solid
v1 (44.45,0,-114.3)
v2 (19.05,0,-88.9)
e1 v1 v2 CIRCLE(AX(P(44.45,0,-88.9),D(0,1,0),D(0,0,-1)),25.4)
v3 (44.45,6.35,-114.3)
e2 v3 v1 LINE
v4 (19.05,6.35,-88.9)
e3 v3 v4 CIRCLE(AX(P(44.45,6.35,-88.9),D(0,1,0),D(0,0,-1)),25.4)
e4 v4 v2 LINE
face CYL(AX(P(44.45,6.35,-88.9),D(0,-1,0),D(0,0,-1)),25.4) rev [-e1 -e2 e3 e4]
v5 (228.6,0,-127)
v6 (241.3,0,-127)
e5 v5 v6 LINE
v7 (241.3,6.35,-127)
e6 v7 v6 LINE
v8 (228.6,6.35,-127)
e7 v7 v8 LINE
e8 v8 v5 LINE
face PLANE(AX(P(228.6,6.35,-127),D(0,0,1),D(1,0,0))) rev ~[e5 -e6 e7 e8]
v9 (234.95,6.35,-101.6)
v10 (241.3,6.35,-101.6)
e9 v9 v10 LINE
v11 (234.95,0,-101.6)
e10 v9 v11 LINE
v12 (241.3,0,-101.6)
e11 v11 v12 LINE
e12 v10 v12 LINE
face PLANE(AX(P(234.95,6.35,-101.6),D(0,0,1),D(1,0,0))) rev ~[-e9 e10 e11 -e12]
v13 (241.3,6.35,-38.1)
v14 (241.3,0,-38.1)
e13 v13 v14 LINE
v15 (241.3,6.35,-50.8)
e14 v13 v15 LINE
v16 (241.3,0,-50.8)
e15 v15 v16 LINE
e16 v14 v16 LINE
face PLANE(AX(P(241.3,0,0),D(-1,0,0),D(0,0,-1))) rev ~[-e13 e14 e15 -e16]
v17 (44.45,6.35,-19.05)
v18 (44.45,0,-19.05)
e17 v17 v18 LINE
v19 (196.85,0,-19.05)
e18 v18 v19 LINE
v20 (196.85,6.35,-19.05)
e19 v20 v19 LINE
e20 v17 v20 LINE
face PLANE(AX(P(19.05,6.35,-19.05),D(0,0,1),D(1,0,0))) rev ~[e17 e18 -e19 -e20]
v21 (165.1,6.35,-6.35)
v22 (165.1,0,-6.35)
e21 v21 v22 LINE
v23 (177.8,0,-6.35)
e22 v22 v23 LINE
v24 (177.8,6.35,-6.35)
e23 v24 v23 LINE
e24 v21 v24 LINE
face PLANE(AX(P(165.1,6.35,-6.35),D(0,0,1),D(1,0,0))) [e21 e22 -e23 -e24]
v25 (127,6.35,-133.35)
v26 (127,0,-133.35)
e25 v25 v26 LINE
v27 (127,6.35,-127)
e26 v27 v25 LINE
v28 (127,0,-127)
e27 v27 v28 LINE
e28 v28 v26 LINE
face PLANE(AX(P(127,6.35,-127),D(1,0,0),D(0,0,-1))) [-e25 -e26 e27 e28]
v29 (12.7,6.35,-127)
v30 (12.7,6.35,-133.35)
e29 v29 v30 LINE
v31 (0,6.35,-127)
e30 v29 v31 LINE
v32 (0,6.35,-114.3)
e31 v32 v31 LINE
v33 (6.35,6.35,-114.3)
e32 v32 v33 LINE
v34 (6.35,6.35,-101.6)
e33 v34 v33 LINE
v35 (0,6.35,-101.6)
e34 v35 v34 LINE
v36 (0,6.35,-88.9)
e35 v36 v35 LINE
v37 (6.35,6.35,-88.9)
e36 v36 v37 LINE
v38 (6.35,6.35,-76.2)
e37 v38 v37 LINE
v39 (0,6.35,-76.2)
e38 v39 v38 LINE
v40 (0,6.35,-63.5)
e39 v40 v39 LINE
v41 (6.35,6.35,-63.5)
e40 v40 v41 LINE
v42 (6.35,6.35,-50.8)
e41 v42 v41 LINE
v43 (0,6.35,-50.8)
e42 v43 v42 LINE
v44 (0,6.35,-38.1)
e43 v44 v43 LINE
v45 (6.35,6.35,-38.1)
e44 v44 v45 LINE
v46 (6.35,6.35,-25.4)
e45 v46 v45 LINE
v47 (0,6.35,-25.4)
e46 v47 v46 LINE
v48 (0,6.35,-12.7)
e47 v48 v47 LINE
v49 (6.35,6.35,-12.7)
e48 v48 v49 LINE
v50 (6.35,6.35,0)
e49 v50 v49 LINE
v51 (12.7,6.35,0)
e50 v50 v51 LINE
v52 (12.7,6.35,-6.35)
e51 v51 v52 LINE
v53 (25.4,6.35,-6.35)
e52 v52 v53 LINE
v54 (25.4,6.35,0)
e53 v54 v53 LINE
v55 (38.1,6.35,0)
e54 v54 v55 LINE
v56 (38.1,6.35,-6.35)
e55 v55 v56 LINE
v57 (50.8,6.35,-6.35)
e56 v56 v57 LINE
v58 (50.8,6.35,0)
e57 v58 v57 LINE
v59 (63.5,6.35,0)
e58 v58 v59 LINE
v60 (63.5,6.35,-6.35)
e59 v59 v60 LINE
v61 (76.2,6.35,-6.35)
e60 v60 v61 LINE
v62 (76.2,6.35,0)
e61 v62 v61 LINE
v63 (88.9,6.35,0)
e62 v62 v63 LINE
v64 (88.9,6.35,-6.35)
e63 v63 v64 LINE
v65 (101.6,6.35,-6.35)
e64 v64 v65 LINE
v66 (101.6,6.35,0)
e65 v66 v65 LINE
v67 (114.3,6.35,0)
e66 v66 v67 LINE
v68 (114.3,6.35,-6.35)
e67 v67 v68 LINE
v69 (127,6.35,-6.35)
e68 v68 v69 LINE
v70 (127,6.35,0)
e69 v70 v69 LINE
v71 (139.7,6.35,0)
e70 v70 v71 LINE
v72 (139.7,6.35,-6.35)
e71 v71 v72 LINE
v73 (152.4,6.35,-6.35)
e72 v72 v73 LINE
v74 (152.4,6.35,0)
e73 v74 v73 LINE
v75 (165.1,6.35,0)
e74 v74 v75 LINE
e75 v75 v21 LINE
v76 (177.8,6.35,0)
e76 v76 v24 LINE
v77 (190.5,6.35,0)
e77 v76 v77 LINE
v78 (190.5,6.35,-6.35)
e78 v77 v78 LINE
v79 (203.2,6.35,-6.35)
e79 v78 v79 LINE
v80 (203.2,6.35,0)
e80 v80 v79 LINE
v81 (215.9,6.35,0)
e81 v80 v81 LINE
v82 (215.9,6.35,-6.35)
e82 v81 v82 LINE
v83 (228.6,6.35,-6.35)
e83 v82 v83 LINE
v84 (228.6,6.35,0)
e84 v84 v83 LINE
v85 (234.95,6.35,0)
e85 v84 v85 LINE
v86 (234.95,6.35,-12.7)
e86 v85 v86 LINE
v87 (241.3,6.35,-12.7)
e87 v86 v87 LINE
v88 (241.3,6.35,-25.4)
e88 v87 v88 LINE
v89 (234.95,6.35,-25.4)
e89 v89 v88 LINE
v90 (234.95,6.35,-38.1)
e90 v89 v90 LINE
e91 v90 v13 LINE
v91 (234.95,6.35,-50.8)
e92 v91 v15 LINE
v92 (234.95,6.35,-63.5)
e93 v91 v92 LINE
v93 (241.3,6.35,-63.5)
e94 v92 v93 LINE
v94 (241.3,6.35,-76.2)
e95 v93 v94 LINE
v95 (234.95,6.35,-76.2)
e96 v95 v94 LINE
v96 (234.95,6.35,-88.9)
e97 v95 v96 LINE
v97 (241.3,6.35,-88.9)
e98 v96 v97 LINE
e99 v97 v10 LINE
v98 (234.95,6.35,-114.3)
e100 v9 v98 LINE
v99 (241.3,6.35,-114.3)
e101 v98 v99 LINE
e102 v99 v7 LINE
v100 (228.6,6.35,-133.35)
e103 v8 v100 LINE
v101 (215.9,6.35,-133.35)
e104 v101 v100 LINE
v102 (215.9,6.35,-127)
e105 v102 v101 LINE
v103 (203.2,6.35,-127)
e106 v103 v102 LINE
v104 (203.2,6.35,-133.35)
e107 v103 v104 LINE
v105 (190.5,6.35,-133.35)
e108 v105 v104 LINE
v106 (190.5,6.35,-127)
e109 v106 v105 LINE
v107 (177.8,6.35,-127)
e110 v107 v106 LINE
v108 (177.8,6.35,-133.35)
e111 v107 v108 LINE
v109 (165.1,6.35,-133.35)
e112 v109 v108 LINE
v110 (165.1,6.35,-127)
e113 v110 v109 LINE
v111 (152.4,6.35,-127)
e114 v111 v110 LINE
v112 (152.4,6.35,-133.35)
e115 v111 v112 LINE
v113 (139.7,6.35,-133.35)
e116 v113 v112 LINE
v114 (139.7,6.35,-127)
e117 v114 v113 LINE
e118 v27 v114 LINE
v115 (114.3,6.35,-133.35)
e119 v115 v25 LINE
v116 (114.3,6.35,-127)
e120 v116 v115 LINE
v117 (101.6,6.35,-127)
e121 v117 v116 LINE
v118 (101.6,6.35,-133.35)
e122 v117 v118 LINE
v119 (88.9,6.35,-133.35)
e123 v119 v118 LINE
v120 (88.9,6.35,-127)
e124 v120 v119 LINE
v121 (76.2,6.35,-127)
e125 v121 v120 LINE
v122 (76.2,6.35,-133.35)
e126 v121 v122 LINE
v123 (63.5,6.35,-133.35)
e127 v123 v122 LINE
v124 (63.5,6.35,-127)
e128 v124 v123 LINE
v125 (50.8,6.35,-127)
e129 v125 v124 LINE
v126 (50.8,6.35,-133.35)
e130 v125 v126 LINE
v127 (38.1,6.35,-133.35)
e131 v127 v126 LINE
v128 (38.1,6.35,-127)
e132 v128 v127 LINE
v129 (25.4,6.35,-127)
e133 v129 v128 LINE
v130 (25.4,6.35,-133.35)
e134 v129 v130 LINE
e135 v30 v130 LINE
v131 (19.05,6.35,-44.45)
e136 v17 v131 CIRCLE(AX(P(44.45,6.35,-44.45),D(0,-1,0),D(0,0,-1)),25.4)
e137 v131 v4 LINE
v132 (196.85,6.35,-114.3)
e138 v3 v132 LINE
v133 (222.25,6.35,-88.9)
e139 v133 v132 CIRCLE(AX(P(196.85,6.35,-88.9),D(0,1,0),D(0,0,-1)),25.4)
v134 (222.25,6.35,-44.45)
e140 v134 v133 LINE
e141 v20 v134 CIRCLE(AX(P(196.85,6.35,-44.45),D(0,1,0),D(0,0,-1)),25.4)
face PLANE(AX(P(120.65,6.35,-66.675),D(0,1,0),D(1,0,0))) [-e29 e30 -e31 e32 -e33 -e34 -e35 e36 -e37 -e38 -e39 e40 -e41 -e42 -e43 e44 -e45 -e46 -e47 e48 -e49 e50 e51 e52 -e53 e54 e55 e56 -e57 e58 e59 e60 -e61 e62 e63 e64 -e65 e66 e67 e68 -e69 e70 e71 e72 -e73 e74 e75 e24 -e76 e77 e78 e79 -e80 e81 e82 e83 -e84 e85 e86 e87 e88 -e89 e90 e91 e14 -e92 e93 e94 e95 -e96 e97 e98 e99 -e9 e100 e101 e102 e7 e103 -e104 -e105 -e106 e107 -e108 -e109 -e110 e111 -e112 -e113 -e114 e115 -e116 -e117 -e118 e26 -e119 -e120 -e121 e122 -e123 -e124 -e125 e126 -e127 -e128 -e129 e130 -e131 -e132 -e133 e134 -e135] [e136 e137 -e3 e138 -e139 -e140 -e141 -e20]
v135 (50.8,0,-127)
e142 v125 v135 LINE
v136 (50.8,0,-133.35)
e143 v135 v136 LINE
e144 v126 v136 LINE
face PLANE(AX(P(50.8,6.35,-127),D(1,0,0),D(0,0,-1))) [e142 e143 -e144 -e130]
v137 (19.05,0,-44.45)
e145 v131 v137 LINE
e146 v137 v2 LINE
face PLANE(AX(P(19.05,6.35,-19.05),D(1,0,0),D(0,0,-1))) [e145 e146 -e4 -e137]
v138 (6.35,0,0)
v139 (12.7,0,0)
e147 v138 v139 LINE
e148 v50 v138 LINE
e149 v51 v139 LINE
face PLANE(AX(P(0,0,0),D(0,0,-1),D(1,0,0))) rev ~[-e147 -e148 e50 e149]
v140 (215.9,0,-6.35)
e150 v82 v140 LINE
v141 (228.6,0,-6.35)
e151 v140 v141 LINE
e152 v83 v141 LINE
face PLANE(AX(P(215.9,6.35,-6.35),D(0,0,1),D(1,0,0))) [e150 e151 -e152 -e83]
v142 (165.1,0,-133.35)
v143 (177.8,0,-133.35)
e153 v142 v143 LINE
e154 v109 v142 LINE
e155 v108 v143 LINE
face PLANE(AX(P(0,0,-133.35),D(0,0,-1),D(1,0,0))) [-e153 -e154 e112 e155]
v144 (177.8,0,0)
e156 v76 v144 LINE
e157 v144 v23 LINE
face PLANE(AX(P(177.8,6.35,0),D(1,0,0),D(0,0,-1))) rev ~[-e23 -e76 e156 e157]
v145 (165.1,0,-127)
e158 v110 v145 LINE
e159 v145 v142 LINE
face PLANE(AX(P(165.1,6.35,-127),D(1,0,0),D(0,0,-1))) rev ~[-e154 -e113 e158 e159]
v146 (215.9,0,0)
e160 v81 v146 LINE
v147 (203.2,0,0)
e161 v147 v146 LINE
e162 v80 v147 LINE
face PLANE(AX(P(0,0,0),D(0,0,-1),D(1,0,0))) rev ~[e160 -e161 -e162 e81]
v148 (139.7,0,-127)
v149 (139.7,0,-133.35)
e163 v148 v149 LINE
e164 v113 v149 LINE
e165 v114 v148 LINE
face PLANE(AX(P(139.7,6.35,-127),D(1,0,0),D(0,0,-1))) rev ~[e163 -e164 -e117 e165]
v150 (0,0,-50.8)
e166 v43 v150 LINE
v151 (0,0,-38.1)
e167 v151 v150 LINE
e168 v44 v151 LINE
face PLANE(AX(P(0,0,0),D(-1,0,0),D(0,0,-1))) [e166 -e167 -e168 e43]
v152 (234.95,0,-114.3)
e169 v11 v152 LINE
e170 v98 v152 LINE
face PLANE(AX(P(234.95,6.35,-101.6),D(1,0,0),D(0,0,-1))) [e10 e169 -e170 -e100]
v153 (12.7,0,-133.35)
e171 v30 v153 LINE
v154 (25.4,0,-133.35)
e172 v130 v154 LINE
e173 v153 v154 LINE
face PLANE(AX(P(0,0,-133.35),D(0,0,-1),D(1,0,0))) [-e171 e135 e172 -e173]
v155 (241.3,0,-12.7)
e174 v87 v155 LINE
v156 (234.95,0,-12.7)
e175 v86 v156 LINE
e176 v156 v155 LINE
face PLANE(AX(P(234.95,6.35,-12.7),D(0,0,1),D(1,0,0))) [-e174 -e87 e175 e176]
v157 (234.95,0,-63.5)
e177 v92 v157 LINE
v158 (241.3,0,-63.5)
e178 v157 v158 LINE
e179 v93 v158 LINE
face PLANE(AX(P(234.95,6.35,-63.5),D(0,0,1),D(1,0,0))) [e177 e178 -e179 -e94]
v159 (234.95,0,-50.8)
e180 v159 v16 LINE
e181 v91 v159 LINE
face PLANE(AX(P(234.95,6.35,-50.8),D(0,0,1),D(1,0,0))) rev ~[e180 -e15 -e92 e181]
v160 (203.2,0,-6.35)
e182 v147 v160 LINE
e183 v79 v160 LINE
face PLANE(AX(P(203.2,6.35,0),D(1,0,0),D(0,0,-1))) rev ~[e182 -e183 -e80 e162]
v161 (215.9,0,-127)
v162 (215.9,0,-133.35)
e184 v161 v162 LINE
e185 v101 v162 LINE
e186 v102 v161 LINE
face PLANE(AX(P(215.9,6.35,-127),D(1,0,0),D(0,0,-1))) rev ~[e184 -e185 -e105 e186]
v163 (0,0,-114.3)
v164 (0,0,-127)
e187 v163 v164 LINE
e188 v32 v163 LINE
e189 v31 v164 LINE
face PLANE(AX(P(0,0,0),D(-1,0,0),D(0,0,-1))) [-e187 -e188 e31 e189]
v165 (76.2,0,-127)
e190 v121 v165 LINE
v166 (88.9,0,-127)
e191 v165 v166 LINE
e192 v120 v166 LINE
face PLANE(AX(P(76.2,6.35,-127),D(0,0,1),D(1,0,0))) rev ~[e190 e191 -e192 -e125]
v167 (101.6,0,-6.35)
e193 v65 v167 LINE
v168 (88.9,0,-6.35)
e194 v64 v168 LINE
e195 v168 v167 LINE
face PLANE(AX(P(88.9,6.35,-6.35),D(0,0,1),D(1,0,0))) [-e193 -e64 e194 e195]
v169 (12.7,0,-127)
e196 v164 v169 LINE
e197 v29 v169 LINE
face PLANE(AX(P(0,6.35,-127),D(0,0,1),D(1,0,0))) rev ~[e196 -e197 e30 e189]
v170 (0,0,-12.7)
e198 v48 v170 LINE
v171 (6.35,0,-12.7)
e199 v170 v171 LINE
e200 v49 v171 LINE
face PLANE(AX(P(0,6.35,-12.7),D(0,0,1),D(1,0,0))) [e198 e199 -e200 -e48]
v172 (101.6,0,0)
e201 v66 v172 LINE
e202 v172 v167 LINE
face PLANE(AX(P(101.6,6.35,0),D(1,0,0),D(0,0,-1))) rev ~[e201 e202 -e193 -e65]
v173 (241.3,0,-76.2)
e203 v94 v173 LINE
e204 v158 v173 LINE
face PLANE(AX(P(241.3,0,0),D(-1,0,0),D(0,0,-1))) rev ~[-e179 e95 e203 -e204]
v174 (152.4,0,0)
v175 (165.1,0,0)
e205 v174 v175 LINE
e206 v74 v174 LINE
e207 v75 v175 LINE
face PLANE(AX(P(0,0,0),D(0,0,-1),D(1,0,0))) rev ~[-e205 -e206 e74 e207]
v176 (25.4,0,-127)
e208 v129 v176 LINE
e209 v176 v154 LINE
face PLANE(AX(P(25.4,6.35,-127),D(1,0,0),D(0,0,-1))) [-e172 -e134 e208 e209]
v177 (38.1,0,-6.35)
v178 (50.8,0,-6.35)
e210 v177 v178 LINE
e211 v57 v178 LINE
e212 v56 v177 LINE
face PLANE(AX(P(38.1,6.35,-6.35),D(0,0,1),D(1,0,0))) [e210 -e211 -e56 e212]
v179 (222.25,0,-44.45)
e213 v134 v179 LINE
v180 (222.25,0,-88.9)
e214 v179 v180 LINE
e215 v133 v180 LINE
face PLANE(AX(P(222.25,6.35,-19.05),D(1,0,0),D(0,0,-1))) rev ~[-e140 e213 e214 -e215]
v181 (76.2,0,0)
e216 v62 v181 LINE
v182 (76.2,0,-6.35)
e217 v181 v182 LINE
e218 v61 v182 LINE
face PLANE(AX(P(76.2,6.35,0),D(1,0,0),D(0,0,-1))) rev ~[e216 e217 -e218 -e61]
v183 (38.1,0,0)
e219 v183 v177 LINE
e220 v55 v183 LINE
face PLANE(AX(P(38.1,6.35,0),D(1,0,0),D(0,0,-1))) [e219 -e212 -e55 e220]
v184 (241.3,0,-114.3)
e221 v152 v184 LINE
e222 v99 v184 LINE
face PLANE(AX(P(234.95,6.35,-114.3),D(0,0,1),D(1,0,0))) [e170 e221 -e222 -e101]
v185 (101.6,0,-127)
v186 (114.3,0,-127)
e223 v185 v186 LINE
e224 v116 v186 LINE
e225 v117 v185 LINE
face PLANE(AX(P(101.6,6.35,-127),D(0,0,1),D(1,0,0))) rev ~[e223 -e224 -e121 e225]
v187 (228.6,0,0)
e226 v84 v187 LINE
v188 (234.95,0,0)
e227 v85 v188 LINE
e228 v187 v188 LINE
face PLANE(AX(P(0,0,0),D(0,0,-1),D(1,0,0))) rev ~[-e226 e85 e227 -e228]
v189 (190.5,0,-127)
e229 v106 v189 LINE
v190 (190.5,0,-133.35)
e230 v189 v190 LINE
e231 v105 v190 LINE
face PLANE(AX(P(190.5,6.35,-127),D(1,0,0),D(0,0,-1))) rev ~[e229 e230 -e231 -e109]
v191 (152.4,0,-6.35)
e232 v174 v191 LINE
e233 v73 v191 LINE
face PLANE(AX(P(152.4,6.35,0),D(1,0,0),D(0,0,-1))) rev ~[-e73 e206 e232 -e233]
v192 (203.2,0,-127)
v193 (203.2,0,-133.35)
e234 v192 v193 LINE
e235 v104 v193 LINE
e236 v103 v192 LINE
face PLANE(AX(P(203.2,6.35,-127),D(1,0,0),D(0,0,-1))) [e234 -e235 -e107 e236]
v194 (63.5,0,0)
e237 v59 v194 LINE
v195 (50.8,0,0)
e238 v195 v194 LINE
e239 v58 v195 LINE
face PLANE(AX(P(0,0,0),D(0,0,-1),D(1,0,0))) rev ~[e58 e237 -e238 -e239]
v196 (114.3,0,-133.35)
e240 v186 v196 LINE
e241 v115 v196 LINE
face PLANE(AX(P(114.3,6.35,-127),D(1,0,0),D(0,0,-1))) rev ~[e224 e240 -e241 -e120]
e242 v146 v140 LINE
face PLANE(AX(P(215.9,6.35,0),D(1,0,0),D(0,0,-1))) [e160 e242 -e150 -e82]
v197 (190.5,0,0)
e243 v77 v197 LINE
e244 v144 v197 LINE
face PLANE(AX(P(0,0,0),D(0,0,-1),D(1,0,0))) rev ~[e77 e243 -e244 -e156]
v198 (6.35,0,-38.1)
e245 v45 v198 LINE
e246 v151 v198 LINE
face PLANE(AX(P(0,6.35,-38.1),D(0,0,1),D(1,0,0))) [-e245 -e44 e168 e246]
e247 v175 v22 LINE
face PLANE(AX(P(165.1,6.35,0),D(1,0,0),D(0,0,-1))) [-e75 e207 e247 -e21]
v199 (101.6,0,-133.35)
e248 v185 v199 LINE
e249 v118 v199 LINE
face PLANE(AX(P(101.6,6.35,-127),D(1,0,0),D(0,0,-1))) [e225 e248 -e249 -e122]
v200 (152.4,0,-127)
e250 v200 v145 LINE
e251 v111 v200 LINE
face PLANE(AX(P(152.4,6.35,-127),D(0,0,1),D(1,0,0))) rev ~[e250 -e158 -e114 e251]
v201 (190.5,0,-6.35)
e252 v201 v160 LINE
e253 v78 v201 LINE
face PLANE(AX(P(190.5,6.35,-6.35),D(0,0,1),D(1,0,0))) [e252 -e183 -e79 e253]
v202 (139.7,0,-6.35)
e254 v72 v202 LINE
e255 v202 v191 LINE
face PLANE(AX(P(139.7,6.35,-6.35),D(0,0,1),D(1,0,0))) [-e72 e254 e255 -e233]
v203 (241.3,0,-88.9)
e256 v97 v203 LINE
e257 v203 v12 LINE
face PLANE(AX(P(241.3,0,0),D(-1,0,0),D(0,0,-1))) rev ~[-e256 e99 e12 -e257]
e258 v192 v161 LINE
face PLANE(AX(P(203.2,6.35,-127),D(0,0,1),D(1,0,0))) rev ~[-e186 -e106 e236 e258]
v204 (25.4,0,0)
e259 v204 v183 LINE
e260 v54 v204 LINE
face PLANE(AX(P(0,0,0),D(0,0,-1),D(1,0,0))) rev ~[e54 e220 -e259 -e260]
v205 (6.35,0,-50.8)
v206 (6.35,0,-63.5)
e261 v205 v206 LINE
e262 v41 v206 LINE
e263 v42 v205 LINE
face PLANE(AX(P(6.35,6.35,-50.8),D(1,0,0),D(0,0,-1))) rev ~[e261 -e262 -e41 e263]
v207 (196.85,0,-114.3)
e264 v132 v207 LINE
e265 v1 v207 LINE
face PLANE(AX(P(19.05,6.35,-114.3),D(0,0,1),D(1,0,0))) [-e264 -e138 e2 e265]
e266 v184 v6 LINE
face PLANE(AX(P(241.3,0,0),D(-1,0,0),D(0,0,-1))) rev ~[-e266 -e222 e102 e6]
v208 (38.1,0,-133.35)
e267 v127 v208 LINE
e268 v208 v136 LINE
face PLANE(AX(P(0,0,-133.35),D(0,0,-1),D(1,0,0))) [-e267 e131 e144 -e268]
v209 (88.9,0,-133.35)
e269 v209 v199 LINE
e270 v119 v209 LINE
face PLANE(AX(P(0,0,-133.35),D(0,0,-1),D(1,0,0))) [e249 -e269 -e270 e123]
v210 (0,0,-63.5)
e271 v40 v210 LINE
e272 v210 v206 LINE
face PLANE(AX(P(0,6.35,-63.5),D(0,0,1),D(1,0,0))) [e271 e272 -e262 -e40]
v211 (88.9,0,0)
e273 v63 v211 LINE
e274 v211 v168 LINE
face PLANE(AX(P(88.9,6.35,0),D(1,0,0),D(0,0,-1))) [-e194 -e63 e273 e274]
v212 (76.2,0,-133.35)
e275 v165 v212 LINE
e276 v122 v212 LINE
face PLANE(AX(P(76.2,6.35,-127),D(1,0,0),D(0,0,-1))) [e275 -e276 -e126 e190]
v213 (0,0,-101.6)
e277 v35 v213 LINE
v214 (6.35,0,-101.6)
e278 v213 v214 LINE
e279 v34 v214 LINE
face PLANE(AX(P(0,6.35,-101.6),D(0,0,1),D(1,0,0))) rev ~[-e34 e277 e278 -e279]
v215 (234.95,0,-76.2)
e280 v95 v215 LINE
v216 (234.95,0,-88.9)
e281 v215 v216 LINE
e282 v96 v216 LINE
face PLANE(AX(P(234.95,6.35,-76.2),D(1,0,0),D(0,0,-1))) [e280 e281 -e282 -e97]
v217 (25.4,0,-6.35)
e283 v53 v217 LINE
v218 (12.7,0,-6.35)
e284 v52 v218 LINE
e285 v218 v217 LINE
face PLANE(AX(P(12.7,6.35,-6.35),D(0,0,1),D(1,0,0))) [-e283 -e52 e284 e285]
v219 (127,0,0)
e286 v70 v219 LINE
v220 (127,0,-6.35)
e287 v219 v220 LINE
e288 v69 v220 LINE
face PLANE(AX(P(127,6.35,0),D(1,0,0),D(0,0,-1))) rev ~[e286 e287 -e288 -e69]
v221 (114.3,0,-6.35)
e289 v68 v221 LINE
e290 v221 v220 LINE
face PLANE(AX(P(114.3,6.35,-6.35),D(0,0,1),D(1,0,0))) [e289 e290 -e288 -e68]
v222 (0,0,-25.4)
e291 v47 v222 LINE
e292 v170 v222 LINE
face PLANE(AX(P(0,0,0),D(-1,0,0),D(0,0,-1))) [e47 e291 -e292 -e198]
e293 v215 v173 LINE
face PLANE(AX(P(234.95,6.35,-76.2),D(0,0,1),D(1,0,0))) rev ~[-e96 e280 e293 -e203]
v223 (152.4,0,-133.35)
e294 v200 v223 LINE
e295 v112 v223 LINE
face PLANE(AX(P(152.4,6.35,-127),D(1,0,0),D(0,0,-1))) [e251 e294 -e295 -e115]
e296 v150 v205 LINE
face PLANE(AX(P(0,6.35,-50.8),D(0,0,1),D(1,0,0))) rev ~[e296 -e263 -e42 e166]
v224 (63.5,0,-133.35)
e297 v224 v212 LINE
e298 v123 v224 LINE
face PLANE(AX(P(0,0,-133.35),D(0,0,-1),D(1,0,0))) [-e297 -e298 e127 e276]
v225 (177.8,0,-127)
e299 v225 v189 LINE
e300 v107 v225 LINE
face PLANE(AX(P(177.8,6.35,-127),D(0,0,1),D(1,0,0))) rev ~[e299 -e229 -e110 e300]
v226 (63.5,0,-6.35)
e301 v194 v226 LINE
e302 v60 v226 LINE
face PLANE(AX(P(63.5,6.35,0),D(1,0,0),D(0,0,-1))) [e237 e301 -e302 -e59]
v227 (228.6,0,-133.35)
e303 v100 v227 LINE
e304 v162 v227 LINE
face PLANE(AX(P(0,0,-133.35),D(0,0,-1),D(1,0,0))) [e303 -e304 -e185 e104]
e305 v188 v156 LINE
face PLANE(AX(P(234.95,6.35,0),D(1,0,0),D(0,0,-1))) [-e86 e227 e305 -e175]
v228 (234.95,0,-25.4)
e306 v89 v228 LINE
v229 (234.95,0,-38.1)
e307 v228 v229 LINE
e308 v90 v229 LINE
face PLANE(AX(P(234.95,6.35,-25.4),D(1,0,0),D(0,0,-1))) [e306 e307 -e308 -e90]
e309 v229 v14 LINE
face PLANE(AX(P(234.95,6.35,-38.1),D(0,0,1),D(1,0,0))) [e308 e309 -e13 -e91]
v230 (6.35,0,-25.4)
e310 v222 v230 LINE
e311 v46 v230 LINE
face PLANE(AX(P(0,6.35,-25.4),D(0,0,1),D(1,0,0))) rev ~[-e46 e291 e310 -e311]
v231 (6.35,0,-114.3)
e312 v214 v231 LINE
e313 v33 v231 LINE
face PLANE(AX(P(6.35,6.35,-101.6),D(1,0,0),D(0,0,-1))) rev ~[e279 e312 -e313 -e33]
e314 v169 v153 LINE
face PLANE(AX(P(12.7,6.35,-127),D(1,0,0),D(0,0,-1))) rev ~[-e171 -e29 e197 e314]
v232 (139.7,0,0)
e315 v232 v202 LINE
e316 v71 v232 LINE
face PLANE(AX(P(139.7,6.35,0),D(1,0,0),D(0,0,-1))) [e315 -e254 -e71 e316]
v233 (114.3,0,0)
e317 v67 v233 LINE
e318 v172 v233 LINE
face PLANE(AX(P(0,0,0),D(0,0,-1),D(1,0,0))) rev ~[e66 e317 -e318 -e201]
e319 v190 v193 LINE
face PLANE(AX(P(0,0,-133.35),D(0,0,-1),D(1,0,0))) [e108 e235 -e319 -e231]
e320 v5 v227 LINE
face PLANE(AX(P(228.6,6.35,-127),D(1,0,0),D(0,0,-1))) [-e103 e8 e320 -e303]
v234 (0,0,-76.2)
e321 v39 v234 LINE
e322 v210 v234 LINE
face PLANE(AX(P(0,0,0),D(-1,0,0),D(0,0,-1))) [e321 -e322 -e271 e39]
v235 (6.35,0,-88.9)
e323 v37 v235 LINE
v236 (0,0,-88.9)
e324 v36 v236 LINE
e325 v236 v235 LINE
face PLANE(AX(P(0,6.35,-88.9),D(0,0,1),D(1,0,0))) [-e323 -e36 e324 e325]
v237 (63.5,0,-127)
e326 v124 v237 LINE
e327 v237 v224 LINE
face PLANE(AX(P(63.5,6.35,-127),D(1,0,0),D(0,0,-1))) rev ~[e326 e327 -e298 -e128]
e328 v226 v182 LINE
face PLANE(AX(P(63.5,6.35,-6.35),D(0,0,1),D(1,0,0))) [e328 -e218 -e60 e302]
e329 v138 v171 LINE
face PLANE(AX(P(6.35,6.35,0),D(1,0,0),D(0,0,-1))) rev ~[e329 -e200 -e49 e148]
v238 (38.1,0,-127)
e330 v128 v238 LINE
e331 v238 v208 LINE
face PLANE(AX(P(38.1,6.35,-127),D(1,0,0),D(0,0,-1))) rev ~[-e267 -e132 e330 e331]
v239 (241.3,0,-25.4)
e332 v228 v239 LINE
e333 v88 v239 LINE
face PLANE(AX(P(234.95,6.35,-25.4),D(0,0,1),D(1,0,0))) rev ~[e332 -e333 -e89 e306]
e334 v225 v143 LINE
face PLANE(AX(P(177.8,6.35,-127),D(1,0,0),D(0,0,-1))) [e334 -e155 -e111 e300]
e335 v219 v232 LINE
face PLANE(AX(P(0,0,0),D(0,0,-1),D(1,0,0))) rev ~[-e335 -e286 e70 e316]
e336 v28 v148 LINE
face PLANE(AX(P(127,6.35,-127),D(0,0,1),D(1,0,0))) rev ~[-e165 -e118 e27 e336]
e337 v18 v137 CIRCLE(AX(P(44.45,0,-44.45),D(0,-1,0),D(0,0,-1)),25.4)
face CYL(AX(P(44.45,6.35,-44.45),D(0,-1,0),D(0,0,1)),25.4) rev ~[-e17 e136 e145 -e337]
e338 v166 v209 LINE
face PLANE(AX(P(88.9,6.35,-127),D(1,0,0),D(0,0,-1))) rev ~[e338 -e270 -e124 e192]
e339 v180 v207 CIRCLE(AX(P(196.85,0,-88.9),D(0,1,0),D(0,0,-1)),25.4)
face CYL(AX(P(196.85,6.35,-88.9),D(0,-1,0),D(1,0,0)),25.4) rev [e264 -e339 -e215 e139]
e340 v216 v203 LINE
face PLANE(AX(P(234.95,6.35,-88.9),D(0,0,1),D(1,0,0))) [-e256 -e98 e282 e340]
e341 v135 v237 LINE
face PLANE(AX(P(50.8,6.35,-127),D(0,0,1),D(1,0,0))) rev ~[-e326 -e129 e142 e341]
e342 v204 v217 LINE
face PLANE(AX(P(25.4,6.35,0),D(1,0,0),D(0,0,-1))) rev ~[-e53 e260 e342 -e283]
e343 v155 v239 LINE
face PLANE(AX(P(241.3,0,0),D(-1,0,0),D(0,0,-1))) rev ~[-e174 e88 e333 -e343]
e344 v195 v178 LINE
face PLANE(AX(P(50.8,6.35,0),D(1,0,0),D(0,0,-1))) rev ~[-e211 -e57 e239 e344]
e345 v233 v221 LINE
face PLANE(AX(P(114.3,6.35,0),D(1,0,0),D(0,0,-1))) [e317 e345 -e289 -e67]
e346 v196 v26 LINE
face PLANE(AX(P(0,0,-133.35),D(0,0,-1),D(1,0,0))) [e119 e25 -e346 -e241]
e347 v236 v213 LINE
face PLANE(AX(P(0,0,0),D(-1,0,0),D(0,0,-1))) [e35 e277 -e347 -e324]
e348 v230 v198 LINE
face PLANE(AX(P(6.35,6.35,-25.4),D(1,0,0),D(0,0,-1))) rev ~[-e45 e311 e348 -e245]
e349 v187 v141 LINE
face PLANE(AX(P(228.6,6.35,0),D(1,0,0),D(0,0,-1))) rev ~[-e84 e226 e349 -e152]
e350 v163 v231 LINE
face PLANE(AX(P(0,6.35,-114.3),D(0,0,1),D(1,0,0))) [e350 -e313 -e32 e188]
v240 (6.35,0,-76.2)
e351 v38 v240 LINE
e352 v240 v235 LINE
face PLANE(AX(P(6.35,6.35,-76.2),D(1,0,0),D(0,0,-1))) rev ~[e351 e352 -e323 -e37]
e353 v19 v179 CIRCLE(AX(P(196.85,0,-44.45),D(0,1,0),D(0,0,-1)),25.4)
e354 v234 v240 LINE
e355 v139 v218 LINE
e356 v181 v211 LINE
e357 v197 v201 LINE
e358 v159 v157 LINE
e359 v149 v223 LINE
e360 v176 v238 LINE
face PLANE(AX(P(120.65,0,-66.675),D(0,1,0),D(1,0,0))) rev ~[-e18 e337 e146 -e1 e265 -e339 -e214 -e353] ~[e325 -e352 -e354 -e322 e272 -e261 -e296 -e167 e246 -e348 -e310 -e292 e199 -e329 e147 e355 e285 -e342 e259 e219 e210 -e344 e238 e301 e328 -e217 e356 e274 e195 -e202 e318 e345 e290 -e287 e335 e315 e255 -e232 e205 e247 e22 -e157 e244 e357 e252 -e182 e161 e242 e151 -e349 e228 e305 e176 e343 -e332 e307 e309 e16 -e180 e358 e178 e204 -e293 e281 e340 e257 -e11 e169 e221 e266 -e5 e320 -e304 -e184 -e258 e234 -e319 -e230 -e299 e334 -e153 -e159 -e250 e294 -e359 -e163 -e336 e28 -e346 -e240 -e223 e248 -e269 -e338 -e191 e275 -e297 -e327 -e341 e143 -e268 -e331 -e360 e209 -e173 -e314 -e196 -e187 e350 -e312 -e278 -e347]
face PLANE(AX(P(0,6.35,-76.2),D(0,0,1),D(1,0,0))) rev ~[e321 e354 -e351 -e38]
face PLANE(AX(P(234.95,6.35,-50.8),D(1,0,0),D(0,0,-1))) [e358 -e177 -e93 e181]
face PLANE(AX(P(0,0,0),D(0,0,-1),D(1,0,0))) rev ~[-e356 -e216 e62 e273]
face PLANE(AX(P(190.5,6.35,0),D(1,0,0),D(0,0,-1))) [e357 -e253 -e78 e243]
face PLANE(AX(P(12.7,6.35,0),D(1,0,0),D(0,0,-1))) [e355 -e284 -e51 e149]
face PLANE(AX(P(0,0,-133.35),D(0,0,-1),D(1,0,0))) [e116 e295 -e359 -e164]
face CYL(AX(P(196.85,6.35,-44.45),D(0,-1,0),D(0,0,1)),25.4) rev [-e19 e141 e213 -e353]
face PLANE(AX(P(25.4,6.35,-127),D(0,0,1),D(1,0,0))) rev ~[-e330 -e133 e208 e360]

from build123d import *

# Parameters (mm, degrees)
SKETCH2_W           = 241.3
SKETCH2_H           = 133.35
BOSS_EXTRUDE1_DEPTH = 6.35
SKETCH3_W           = 6.35
SKETCH3_H           = 12.7
CUT_EXTRUDE1_DEPTH  = 7.35
LPATTERN1_COUNT     = 6
LPATTERN1_PITCH     = 25.4
SKETCH4_W           = 12.7
SKETCH4_H           = 6.35
CUT_EXTRUDE2_DEPTH  = 7.35
LPATTERN2_COUNT     = 10
LPATTERN2_PITCH     = 25.4
SKETCH5_W           = 12.7
SKETCH5_H           = 6.35
CUT_EXTRUDE3_DEPTH  = 7.35
LPATTERN3_COUNT     = 10
LPATTERN3_PITCH     = 25.4
SKETCH6_W           = 203.2
SKETCH6_H           = 95.25
CUT_EXTRUDE4_DEPTH  = 7.35
FILLET1_R           = 25.4


with BuildPart() as part:
    # Sketch2 → Boss-Extrude1 (new body)
    with BuildSketch(Plane(origin=(0, 0, 0), x_dir=(1, 0, 0), z_dir=(0, 1, 0))):
        with Locations((120.65, 66.675)):
            Rectangle(SKETCH2_W, SKETCH2_H)
    extrude(amount=BOSS_EXTRUDE1_DEPTH)

    # Sketch3 → Cut-Extrude1 (cut, through all)
    with BuildSketch(Plane(origin=(0, 6.35, 0), x_dir=(1, 0, 0), z_dir=(0, 1, 0))):
        with Locations((3.175, 6.35)):
            Rectangle(SKETCH3_W, SKETCH3_H)
        with Locations((238.125, 6.35)):
            Rectangle(SKETCH3_W, SKETCH3_H)
    cut_extrude1 = extrude(amount=-CUT_EXTRUDE1_DEPTH, mode=Mode.SUBTRACT)

    # LPattern1: Cut-Extrude1 ×6
    with Locations(*[(0, 0, -i * LPATTERN1_PITCH) for i in range(1, LPATTERN1_COUNT)]):
        add(cut_extrude1, mode=Mode.SUBTRACT)

    # Sketch4 → Cut-Extrude2 (cut, through all)
    with BuildSketch(Plane(origin=(0, 6.35, 0), x_dir=(1, 0, 0), z_dir=(0, 1, 0))):
        with Locations((222.25, 3.175)):
            Rectangle(SKETCH4_W, SKETCH4_H)
    cut_extrude2 = extrude(amount=-CUT_EXTRUDE2_DEPTH, mode=Mode.SUBTRACT)

    # LPattern2: Cut-Extrude2 ×10
    with Locations(*[(-i * LPATTERN2_PITCH, 0, 0) for i in range(1, LPATTERN2_COUNT)]):
        add(cut_extrude2, mode=Mode.SUBTRACT)

    # Sketch5 → Cut-Extrude3 (cut, through all)
    with BuildSketch(Plane(origin=(0, 6.35, 0), x_dir=(1, 0, 0), z_dir=(0, 1, 0))):
        with Locations((6.35, 130.175)):
            Rectangle(SKETCH5_W, SKETCH5_H)
    cut_extrude3 = extrude(amount=-CUT_EXTRUDE3_DEPTH, mode=Mode.SUBTRACT)

    # LPattern3: Cut-Extrude3 ×10
    with Locations(*[(i * LPATTERN3_PITCH, 0, 0) for i in range(1, LPATTERN3_COUNT)]):
        add(cut_extrude3, mode=Mode.SUBTRACT)

    # Sketch6 → Cut-Extrude4 (cut, through all)
    with BuildSketch(Plane(origin=(0, 6.35, 0), x_dir=(1, 0, 0), z_dir=(0, 1, 0))):
        with Locations((120.65, 66.675)):
            Rectangle(SKETCH6_W, SKETCH6_H)
    extrude(amount=-CUT_EXTRUDE4_DEPTH, mode=Mode.SUBTRACT)

    # Fillet1
    fillet1_edges = [part.edges().sort_by_distance(p)[0] for p in [
        (19.05, 3.175, -19.05),
        (19.05, 3.175, -114.3),
        (222.25, 3.175, -114.3),
        (222.25, 3.175, -19.05),
    ]]
    fillet(fillet1_edges, radius=FILLET1_R)


solid = part.part
